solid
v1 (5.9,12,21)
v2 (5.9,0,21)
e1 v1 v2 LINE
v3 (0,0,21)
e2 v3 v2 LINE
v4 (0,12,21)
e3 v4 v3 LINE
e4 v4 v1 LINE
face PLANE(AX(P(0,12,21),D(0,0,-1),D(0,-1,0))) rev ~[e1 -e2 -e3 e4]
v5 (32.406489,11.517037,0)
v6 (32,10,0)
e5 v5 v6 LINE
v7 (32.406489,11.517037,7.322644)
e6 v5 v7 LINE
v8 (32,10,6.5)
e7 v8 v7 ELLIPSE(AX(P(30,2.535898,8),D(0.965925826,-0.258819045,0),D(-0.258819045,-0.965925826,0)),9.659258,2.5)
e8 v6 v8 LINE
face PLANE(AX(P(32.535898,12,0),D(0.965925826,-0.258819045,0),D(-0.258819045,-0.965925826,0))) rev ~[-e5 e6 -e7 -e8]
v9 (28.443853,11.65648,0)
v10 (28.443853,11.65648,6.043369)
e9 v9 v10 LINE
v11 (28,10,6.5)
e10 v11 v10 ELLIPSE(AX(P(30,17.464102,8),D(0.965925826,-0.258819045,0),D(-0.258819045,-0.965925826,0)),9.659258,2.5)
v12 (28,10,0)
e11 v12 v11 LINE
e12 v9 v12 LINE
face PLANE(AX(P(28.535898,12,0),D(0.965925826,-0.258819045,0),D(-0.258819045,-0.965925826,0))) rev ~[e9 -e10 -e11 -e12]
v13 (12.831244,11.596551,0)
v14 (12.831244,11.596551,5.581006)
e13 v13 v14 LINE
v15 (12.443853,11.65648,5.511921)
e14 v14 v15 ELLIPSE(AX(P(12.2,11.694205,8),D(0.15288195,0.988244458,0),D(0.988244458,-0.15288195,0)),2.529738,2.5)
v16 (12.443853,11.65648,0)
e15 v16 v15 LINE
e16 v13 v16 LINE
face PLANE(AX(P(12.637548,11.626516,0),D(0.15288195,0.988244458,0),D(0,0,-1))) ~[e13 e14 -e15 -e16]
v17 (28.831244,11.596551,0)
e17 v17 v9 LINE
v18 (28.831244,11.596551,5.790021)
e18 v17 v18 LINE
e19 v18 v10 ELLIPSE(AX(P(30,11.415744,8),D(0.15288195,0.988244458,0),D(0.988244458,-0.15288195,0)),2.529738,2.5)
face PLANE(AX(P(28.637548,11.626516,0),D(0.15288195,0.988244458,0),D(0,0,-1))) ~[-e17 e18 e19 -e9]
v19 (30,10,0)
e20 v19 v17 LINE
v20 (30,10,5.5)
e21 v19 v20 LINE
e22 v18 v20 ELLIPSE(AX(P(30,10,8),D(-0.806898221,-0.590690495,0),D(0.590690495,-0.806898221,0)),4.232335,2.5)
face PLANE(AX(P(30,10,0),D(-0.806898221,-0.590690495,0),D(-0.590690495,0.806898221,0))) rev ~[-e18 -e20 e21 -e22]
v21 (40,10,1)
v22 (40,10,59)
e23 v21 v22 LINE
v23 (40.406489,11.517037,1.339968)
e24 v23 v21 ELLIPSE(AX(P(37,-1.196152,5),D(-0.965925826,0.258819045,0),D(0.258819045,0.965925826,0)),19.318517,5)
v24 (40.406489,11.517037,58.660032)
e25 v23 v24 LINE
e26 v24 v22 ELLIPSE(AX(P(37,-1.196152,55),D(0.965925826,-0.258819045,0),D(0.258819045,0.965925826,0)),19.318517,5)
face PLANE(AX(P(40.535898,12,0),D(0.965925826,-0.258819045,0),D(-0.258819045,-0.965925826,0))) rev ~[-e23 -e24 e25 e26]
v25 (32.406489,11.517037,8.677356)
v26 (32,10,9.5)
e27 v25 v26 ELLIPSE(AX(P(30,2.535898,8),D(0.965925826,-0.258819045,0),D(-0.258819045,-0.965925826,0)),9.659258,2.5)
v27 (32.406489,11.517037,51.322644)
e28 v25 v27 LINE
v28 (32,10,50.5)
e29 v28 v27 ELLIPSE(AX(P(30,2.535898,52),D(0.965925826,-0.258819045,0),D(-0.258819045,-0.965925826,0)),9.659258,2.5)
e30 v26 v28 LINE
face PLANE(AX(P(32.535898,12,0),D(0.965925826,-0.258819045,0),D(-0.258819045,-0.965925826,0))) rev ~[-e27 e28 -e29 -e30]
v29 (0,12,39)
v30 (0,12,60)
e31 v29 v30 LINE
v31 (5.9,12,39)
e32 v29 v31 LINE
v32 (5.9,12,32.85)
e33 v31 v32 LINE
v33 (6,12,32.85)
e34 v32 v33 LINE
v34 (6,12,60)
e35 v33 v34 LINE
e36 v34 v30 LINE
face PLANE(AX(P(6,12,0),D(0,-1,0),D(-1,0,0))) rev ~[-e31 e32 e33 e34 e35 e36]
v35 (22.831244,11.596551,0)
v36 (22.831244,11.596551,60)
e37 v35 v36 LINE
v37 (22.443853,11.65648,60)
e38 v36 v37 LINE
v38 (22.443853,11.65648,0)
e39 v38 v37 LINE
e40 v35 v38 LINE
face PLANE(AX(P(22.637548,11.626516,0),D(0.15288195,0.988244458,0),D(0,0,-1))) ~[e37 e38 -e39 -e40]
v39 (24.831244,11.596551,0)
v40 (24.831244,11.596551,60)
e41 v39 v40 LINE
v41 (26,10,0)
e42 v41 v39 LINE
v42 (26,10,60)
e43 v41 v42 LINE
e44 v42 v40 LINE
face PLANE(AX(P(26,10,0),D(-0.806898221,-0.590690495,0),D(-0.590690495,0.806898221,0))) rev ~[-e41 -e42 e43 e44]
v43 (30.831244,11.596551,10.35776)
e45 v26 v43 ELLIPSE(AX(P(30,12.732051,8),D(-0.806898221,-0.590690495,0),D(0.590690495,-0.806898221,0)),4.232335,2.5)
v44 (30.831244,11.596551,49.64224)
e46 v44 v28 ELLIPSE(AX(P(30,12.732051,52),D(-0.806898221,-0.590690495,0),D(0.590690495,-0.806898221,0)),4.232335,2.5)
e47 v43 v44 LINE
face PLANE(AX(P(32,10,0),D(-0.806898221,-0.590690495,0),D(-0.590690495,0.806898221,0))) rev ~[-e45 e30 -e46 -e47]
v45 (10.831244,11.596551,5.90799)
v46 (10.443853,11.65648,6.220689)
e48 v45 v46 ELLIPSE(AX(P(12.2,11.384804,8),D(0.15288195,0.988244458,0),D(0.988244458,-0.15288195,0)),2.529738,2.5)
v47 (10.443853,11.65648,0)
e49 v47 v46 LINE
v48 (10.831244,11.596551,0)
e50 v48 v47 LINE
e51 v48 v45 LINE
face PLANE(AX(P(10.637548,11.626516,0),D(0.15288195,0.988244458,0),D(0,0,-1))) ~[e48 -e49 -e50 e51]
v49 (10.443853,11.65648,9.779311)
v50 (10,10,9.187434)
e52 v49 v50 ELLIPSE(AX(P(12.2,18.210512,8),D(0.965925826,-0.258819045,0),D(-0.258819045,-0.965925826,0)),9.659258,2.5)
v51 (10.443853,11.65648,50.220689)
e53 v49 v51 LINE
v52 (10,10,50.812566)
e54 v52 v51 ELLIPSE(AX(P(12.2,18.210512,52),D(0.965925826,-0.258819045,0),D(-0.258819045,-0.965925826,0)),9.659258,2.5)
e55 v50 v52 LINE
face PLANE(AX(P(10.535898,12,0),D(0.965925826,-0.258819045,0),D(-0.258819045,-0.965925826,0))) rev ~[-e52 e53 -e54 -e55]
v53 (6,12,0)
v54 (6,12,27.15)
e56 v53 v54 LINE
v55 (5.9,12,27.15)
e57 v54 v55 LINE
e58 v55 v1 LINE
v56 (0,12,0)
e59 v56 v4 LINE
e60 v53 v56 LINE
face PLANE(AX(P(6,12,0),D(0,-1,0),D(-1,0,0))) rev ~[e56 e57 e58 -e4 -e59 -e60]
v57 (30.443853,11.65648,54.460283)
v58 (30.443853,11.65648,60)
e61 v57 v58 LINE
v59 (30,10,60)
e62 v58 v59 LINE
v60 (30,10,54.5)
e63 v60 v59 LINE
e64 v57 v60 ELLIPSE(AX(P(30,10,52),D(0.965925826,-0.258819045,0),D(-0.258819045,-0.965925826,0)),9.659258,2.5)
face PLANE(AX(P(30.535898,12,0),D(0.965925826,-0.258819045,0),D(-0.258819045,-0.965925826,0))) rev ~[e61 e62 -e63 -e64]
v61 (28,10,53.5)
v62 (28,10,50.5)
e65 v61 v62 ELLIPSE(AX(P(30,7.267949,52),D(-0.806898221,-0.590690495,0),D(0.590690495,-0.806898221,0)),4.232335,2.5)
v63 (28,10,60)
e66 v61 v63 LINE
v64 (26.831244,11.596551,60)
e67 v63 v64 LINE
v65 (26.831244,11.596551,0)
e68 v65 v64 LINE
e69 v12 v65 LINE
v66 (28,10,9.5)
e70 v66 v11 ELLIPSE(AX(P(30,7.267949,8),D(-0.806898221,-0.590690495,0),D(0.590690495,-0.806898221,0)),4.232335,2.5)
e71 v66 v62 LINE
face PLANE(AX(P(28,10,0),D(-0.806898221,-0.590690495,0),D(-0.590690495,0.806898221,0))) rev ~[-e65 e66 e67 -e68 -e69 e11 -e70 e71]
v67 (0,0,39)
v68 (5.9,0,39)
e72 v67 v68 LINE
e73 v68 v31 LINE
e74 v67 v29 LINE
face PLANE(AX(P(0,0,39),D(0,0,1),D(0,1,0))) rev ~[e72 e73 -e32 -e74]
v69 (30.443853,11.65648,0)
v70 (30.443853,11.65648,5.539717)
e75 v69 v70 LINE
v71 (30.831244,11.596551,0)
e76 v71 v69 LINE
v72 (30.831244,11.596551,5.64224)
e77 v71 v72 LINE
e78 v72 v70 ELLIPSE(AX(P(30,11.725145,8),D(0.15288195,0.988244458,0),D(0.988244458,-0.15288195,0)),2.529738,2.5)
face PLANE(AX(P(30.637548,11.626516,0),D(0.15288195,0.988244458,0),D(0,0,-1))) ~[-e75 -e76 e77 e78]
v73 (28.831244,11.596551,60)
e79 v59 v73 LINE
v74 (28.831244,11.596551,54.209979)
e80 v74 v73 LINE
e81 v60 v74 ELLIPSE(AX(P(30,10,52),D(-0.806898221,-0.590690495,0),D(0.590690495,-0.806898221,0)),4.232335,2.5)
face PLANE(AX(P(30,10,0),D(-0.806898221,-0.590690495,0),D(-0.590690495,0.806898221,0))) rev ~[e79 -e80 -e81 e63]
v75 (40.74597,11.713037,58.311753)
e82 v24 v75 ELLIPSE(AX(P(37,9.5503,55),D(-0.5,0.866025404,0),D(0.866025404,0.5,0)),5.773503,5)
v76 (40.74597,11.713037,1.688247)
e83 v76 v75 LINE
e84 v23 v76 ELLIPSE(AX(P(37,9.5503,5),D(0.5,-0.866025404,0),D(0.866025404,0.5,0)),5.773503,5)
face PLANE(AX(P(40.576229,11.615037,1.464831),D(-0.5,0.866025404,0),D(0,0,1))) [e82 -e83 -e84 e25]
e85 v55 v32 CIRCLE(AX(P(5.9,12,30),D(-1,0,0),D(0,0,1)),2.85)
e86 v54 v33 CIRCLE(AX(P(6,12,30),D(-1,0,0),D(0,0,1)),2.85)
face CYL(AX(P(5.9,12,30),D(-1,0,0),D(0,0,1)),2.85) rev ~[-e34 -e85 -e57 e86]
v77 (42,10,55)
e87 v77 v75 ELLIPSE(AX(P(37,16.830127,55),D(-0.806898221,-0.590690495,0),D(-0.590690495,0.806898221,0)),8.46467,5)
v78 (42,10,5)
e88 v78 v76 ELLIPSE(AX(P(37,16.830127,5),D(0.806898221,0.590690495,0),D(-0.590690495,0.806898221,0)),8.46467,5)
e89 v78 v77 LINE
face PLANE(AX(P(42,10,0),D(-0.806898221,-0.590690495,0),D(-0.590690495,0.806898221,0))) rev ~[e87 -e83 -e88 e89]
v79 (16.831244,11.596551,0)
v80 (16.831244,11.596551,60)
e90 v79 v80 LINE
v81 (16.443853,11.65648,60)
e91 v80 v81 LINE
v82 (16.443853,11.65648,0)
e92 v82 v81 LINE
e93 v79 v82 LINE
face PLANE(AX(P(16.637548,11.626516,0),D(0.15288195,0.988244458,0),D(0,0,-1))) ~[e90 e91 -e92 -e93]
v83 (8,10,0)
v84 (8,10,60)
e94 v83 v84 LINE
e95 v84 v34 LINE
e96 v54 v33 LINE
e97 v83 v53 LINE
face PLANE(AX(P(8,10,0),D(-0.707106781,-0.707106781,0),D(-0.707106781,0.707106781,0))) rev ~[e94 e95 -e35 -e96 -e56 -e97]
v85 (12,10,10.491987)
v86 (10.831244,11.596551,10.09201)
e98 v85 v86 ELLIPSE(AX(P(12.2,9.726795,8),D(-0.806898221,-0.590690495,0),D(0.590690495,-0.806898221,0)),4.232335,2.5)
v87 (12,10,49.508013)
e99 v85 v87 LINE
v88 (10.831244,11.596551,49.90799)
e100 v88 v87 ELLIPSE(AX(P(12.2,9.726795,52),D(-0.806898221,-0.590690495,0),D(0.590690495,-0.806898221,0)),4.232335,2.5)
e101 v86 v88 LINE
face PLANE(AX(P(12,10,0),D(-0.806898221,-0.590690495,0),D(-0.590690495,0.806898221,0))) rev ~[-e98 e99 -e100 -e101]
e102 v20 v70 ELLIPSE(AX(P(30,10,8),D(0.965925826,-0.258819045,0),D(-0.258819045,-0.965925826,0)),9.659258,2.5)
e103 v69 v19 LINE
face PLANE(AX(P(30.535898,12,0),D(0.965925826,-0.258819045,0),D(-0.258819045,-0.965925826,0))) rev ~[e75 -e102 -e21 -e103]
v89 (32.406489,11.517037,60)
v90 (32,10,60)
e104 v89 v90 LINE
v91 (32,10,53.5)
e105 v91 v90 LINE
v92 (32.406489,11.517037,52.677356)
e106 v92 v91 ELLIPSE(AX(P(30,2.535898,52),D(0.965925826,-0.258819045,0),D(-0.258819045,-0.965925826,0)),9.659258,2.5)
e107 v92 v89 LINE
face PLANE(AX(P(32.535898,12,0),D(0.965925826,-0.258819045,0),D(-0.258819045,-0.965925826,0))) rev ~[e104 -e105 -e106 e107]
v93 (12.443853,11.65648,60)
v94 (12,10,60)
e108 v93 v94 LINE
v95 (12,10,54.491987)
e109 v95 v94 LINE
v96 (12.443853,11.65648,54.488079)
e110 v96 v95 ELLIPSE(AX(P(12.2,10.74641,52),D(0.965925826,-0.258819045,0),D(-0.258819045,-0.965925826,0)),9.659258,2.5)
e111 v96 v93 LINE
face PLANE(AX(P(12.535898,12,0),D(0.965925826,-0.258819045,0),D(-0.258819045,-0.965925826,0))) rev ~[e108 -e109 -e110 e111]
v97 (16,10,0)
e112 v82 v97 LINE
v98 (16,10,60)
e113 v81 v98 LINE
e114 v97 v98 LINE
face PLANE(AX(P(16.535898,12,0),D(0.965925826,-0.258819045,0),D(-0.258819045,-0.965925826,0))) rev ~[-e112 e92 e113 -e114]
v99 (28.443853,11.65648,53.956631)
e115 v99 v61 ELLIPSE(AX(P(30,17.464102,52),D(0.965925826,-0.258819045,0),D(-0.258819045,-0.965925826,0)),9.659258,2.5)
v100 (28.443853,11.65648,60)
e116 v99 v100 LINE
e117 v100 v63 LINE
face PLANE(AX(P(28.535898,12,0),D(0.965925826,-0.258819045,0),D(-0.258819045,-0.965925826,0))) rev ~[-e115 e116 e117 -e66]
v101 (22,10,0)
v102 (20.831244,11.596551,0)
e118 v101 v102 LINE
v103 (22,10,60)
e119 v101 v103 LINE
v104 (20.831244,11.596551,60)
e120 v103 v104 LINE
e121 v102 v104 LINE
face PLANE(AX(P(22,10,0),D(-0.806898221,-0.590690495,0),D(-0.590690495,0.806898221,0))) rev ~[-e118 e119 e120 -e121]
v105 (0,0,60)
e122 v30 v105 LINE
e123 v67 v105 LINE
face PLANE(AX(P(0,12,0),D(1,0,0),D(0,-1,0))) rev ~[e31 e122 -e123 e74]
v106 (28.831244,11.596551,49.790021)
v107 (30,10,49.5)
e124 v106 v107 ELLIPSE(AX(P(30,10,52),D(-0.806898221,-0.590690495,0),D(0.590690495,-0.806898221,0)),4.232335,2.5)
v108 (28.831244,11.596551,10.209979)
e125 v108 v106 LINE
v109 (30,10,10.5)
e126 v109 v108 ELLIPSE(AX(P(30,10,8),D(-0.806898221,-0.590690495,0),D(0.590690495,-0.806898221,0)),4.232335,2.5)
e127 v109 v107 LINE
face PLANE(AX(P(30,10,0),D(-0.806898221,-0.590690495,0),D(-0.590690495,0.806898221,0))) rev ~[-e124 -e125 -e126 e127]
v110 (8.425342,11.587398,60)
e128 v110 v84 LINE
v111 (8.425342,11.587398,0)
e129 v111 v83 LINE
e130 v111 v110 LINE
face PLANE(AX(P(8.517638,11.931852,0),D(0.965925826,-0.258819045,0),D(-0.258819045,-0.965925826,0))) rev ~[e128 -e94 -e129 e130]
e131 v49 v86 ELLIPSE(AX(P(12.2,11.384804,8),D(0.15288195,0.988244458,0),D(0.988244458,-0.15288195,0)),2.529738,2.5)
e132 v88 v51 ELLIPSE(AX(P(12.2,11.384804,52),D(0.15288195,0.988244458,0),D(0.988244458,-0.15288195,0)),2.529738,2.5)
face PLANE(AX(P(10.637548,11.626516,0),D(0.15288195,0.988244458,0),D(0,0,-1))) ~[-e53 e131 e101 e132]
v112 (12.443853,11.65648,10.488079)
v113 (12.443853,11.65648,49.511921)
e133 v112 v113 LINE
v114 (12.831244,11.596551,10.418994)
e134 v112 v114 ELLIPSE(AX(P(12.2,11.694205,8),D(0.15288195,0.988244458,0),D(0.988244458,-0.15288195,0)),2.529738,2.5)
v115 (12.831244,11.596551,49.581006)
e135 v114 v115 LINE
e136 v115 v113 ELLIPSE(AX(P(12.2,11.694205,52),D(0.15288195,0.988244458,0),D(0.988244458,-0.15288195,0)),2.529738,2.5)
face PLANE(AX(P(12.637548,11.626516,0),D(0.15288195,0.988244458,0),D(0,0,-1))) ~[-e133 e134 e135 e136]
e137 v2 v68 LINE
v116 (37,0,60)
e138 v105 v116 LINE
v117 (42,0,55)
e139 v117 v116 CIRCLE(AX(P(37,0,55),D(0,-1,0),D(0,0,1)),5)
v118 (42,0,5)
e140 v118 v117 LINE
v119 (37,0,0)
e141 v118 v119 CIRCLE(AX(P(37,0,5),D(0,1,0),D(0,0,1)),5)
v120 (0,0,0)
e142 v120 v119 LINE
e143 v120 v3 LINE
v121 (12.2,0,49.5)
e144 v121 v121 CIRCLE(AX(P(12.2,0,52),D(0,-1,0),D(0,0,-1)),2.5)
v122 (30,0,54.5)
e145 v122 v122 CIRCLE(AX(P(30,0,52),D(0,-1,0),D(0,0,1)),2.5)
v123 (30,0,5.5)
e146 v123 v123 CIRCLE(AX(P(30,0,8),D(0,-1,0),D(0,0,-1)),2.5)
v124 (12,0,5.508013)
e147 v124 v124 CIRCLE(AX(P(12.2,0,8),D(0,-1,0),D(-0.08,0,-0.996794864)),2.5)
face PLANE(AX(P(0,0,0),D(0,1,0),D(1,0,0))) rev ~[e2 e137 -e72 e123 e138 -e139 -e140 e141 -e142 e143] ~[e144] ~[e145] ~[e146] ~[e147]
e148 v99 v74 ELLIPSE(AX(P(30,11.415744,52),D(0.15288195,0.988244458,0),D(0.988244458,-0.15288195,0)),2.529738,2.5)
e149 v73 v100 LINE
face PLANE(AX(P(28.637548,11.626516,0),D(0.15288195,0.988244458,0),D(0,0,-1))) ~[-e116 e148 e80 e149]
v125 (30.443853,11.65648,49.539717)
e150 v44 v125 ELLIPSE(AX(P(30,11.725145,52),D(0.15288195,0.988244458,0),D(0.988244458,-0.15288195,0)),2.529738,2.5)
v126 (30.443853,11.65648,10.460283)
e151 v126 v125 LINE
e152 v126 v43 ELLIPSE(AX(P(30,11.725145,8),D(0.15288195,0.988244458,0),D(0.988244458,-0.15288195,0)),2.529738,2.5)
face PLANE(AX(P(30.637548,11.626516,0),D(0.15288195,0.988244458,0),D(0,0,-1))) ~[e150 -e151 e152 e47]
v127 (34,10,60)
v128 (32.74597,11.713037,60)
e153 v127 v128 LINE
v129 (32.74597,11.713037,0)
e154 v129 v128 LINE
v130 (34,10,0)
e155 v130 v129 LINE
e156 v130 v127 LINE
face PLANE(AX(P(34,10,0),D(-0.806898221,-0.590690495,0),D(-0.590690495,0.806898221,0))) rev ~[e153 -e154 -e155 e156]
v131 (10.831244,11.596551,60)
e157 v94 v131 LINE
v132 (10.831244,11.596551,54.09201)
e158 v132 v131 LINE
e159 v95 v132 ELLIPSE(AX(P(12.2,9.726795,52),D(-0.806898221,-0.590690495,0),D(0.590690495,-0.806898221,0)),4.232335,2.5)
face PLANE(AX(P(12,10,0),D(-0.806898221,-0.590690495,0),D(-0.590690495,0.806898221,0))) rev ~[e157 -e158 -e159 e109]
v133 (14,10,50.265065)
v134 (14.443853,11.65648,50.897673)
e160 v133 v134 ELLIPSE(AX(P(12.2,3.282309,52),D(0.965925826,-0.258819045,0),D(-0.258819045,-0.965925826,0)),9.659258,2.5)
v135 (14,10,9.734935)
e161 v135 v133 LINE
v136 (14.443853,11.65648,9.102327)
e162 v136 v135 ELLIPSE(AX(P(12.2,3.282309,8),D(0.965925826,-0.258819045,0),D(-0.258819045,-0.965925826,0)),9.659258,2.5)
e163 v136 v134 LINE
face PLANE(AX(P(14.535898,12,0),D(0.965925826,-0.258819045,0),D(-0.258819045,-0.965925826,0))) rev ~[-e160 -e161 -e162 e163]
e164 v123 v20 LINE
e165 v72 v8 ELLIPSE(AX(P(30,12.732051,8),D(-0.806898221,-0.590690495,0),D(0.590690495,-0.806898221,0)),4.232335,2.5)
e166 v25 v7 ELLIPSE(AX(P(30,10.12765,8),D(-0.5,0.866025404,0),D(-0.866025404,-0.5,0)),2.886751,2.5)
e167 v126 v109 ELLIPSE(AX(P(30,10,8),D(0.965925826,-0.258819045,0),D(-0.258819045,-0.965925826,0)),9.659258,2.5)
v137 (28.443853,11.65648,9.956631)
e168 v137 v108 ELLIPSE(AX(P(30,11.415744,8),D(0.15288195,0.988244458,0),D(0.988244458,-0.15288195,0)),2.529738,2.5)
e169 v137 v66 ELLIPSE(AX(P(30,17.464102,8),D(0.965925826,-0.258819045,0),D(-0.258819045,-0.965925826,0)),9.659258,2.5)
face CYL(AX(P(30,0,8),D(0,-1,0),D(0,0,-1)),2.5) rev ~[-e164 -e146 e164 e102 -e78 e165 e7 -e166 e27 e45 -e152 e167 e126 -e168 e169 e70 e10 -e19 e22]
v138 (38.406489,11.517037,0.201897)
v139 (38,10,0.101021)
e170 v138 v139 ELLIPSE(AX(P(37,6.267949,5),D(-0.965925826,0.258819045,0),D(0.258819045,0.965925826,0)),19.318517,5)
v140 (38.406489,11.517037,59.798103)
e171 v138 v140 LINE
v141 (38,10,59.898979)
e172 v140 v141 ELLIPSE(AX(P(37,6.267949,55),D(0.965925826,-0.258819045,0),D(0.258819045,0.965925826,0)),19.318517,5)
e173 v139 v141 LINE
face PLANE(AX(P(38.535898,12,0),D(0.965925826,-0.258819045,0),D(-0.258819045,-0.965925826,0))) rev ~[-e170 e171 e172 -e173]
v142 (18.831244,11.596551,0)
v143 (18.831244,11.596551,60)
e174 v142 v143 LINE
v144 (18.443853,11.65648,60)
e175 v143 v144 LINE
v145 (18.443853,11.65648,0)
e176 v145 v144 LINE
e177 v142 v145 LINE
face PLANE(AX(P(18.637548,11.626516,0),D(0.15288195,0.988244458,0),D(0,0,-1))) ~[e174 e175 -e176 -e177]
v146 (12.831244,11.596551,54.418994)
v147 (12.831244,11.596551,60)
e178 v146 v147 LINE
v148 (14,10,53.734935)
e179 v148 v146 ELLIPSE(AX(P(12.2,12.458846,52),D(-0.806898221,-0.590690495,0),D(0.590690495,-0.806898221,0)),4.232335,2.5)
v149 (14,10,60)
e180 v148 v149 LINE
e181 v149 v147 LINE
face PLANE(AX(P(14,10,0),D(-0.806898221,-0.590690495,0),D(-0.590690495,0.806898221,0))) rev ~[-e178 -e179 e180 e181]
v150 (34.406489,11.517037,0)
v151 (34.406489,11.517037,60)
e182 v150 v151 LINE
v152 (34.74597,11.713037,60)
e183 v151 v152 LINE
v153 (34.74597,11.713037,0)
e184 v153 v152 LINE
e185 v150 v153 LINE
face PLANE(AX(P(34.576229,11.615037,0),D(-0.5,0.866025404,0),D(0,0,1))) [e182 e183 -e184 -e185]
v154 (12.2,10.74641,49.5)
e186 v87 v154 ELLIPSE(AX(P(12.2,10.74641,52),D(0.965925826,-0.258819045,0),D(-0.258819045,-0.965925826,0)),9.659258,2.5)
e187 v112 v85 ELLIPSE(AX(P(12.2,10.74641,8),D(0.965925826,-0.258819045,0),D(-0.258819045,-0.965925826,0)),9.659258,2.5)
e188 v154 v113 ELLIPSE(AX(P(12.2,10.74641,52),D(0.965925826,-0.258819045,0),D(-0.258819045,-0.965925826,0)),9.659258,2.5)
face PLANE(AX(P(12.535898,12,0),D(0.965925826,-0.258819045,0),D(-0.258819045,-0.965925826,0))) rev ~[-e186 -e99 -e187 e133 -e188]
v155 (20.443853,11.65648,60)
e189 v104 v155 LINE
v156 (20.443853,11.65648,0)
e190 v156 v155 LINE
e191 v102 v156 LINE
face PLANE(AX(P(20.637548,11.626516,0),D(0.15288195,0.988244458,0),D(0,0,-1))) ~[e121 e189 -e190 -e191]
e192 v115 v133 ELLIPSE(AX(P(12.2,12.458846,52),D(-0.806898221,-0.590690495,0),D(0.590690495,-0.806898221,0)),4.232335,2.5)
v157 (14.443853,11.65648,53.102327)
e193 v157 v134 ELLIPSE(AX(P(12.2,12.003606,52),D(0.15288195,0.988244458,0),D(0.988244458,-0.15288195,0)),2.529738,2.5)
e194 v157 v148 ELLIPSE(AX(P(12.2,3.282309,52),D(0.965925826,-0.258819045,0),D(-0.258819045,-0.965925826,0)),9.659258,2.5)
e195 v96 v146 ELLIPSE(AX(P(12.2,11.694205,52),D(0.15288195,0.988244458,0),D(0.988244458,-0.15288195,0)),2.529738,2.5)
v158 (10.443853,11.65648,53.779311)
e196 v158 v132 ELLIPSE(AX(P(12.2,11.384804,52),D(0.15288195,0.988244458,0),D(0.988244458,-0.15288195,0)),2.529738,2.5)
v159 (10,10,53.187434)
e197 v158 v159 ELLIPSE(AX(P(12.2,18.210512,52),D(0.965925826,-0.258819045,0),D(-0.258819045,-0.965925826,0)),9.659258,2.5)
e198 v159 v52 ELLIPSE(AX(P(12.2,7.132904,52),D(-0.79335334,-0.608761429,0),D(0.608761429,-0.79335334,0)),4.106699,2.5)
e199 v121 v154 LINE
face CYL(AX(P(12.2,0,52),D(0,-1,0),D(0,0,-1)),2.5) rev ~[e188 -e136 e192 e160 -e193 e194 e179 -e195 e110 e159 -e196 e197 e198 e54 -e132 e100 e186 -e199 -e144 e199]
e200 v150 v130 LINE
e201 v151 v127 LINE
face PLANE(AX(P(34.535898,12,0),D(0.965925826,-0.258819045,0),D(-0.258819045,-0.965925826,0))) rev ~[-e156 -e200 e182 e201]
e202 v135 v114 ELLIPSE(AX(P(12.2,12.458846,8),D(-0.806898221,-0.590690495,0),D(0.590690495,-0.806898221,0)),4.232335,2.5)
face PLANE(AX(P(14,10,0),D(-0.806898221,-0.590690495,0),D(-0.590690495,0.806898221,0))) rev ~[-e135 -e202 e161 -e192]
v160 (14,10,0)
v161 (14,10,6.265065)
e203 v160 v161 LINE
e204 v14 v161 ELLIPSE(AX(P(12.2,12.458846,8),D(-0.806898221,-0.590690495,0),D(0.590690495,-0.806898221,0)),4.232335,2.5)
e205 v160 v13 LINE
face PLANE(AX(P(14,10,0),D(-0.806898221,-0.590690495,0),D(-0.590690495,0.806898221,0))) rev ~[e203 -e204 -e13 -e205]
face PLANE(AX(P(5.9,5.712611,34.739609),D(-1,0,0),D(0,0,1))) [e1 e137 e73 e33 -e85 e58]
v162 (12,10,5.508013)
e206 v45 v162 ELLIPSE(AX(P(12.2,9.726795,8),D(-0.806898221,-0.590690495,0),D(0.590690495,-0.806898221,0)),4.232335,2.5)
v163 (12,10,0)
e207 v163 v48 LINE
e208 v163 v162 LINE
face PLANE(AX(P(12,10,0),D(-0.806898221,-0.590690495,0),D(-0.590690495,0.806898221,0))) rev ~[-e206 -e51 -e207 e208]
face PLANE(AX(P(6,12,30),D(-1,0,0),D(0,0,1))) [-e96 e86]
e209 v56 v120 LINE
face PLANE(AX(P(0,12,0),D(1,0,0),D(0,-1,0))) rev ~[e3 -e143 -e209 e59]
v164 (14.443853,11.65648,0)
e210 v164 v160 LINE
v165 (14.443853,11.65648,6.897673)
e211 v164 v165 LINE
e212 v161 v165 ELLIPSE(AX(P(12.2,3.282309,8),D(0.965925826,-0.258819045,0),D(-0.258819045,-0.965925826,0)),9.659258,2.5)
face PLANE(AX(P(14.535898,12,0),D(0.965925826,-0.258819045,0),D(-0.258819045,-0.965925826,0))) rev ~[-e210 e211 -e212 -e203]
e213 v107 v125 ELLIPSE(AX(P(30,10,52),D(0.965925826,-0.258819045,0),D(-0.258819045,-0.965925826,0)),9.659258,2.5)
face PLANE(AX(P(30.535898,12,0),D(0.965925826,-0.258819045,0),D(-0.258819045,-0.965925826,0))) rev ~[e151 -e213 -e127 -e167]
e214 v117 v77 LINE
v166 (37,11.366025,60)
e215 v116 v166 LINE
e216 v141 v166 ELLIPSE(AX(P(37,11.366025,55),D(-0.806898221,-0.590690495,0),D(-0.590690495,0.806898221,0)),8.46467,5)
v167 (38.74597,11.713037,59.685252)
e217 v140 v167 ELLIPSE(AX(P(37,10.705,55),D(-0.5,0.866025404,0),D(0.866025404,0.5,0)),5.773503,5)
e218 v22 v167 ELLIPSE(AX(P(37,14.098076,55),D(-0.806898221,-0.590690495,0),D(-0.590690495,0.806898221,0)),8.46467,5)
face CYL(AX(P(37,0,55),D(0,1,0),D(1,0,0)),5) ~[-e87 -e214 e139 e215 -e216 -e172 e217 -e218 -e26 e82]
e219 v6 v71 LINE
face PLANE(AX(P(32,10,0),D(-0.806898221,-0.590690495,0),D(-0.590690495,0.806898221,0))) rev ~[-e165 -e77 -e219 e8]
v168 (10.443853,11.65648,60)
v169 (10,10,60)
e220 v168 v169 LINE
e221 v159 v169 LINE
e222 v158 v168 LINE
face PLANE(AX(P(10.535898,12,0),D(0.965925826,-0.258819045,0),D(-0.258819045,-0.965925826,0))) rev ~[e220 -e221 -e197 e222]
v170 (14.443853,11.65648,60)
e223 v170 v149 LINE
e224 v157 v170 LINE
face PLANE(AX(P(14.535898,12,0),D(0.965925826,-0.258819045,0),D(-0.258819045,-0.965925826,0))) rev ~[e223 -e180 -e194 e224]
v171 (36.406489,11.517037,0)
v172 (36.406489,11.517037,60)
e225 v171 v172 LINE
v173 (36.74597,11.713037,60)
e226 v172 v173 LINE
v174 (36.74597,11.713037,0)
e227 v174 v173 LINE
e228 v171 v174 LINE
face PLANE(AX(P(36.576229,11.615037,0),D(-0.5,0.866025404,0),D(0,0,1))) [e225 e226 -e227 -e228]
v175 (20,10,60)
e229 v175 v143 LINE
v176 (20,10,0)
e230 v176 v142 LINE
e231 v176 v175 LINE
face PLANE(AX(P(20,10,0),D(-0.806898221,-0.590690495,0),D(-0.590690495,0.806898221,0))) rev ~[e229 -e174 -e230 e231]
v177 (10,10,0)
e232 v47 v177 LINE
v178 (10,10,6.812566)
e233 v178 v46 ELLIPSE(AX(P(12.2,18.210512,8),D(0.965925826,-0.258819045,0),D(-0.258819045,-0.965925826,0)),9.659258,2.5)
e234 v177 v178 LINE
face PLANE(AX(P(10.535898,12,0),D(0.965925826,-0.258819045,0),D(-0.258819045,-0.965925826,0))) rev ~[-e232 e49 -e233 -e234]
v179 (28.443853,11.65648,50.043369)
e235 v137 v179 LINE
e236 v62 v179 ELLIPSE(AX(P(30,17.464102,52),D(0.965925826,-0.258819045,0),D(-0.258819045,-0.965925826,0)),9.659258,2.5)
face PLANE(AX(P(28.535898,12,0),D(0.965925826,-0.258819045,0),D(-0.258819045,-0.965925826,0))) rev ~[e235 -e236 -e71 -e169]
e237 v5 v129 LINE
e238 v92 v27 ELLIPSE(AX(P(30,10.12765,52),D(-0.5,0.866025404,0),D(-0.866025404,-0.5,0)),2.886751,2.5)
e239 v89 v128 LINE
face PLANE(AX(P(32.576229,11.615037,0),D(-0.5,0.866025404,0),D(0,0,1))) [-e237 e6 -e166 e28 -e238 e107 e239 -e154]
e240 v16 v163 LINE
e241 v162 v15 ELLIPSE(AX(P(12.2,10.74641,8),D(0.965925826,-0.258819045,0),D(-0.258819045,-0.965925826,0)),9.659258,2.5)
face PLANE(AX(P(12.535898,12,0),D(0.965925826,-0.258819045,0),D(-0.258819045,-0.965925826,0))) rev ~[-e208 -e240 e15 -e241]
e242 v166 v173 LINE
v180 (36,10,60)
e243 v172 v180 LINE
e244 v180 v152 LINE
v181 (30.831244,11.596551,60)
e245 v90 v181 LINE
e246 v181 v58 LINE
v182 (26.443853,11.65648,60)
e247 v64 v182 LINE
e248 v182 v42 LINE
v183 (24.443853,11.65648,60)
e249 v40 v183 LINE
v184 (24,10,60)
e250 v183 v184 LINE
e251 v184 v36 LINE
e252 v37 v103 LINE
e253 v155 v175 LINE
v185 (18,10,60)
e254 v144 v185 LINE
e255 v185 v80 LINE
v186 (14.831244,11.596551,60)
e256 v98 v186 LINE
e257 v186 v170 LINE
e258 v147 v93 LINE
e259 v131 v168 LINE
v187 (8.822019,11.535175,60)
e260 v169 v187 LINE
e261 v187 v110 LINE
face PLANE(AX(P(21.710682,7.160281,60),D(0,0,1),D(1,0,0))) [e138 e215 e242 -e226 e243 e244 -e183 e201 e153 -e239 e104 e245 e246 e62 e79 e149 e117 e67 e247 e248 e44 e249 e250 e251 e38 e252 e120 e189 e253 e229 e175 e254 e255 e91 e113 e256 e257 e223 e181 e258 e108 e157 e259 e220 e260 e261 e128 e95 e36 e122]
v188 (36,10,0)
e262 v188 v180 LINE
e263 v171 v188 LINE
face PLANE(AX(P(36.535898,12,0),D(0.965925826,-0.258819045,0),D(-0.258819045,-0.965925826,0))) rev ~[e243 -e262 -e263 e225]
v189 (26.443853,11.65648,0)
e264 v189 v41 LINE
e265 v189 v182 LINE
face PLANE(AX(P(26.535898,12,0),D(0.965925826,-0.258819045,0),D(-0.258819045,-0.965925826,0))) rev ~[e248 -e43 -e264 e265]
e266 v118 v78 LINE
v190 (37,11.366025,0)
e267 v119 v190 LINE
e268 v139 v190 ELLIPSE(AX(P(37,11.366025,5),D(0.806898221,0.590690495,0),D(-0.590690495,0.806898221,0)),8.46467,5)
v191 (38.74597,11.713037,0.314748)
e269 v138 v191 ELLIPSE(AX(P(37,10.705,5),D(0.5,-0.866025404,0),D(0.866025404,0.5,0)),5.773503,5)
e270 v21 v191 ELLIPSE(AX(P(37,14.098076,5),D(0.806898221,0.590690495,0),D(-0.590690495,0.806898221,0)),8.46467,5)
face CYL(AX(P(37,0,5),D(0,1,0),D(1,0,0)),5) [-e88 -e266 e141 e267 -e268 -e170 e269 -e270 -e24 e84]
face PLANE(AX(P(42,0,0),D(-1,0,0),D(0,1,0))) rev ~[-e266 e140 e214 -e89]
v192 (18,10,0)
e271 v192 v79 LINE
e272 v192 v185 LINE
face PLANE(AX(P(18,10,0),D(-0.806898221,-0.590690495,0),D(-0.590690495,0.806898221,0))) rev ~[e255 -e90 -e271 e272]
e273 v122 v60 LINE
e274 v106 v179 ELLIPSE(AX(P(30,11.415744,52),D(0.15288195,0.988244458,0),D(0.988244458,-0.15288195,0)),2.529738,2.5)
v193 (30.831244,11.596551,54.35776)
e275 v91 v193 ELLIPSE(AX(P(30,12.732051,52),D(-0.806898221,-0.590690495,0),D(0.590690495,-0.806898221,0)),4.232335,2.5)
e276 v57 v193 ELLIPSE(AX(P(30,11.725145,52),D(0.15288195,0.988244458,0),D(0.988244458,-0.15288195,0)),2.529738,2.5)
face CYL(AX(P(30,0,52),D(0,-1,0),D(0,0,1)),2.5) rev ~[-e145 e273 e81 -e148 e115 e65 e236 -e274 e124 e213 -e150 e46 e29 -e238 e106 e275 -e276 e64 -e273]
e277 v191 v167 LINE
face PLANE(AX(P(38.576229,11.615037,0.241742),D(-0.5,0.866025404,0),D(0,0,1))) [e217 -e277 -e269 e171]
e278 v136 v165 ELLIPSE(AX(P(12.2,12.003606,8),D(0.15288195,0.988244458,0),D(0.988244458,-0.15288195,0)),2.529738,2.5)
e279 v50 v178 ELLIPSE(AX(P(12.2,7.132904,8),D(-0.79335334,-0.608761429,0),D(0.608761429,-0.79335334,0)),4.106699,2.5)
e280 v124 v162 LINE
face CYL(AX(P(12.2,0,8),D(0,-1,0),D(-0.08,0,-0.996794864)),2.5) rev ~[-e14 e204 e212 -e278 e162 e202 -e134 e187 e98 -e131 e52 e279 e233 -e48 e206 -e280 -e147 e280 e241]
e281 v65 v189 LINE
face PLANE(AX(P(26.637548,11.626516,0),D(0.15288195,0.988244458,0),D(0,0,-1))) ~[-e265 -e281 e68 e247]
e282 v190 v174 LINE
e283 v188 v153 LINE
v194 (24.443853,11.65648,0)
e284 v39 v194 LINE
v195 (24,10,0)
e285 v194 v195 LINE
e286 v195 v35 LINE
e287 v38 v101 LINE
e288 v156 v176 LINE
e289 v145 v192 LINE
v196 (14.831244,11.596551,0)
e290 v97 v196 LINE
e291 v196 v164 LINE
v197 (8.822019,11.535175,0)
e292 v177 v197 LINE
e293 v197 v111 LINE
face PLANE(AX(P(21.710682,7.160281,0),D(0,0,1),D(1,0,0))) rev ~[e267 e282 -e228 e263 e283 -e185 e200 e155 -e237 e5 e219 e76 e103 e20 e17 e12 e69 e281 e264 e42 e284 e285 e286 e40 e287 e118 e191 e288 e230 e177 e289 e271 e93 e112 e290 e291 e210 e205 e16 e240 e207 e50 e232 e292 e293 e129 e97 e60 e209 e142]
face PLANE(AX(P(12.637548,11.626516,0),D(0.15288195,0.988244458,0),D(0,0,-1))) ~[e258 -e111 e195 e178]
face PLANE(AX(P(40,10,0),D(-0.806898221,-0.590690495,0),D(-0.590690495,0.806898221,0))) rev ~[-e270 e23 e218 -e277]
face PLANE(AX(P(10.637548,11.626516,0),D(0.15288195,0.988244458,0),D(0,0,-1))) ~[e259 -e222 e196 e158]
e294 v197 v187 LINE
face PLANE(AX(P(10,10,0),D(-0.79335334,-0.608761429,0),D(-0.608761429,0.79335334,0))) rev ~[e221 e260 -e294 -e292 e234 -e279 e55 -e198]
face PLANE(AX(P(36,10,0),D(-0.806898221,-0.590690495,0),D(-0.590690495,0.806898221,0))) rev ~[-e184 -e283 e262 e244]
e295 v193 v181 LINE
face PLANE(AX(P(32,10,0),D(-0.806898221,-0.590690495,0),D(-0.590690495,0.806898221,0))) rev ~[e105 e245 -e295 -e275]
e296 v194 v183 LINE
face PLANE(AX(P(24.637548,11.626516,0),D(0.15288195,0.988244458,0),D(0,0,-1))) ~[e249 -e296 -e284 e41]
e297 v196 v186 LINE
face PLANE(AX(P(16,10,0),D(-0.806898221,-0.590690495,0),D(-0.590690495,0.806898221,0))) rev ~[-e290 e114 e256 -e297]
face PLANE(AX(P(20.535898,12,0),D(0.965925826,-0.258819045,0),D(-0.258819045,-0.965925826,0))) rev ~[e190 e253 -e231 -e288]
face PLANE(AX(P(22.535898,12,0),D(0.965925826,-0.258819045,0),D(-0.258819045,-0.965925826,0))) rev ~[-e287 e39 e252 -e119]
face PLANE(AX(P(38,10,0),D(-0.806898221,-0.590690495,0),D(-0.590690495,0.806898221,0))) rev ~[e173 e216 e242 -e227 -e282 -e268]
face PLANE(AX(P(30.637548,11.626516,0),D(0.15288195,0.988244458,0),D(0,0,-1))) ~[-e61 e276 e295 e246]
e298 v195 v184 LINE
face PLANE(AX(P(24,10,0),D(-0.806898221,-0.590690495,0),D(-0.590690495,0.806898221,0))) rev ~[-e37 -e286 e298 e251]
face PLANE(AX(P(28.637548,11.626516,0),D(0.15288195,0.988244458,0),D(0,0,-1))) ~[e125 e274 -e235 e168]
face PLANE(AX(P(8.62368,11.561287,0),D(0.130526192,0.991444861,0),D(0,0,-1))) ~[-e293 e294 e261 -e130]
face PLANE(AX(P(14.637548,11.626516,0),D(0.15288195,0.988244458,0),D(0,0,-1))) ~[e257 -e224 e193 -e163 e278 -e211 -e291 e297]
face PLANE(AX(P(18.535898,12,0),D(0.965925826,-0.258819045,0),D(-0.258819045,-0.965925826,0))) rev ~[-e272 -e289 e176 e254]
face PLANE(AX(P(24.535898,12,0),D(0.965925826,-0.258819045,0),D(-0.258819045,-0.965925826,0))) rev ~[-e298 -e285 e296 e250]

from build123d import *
from OCP.BRepFilletAPI import BRepFilletAPI_MakeChamfer

# Parameters (mm, degrees)
EXTRUDE_1_DEPTH     = 60
FILLET_1_R          = 5
CUT_EXTRUDE_1_DEPTH = 5.9
CHAMFER_1_SIZE      = 0.5
CHAMFER_1_SIZE2     = 0.355637567
CHAMFER_1_SIZE2_2   = 0.356604189
SKETCH_6_R          = 2.85
CUT_EXTRUDE_2_DEPTH = 0.1
SKETCH_7_R          = 2.5
CUT_EXTRUDE_3_DEPTH = 75.215901261


with BuildPart() as part:
    # 草图1 → 凸台-拉伸1 (new body)
    with BuildSketch(Plane.XY):
        Polygon((0, 0), (42, 0), (42, 10), (40.535898385, 12), (40, 10), (38.535898385, 12), (38, 10), (36.535898385, 12), (36, 10), (34.535898385, 12), (34, 10), (32.535898385, 12), (32, 10), (30.535898385, 12), (30, 10), (28.535898385, 12), (28, 10), (26.535898385, 12), (26, 10), (24.535898385, 12), (24, 10), (22.535898385, 12), (22, 10), (20.535898385, 12), (20, 10), (18.535898385, 12), (18, 10), (16.535898385, 12), (16, 10), (14.535898385, 12), (14, 10), (12.535898385, 12), (12, 10), (10.535898385, 12), (10, 10), (8.51763809, 11.931851653), (8, 10), (6, 12), (0, 12), align=None)
    extrude(amount=EXTRUDE_1_DEPTH)

    # 圆角1
    fillet_1_edges = [part.edges().sort_by_distance(p)[0] for p in [
        (42, 5, 0),
        (42, 5, 60),
    ]]
    fillet(fillet_1_edges, radius=FILLET_1_R)

    # 草图2 → 切除-拉伸1 (cut)
    with BuildSketch(Plane.ZY):
        with BuildLine():
            ThreePointArc((32.9, 12), (32.050609665, 9.949390335), (30, 9.1))
            Line((30, 9.1), (30, 0))
            Line((30, 0), (39, 0))
            Line((39, 0), (39, 12))
            Line((39, 12), (32.9, 12))
        make_face()
        with BuildLine():
            Line((30, 0), (30, 9.1))
            ThreePointArc((30, 9.1), (27.949390335, 9.949390335), (27.1, 12))
            Line((27.1, 12), (21, 12))
            Line((21, 12), (21, 0))
            Line((21, 0), (30, 0))
        make_face()
        with BuildLine():
            Line((32.9, 12), (30, 12))
            Line((30, 12), (30, 9.1))
            ThreePointArc((30, 9.1), (32.050609665, 9.949390335), (32.9, 12))
        make_face()
        with BuildLine():
            Line((30, 9.1), (30, 12))
            Line((30, 12), (27.1, 12))
            ThreePointArc((27.1, 12), (27.949390335, 9.949390335), (30, 9.1))
        make_face()
    extrude(amount=-CUT_EXTRUDE_1_DEPTH, mode=Mode.SUBTRACT)

    # 倒角1: one chamfer whose edges measure the first distance from different faces: ONE call of the kernel's chamfer builder (chamfer() names one face for all edges)
    chamfer_1_edges_1 = [part.edges().sort_by_distance(p)[0] for p in [
        (40.535898385, 12, 30),
    ]]
    chamfer_1_side_1 = [part.faces().sort_by_distance(p)[0] for p in [
        (40.267229154, 10.997312779, 30),
    ]]
    chamfer_1_edges_2 = [part.edges().sort_by_distance(p)[0] for p in [
        (38.535898385, 12, 30),
    ]]
    chamfer_1_side_2 = [part.faces().sort_by_distance(p)[0] for p in [
        (38.267738685, 10.999214377, 30),
    ]]
    chamfer_1_edges_3 = [part.edges().sort_by_distance(p)[0] for p in [
        (36.535898385, 12, 30),
    ]]
    chamfer_1_side_3 = [part.faces().sort_by_distance(p)[0] for p in [
        (36.267949192, 11, 30),
    ]]
    chamfer_1_edges_4 = [part.edges().sort_by_distance(p)[0] for p in [
        (34.535898385, 12, 30),
    ]]
    chamfer_1_side_4 = [part.faces().sort_by_distance(p)[0] for p in [
        (34.267949192, 11, 30),
    ]]
    chamfer_1_edges_5 = [part.edges().sort_by_distance(p)[0] for p in [
        (32.535898385, 12, 30),
    ]]
    chamfer_1_side_5 = [part.faces().sort_by_distance(p)[0] for p in [
        (32.267949192, 11, 30),
    ]]
    chamfer_1_edges_6 = [part.edges().sort_by_distance(p)[0] for p in [
        (30.535898385, 12, 30),
    ]]
    chamfer_1_side_6 = [part.faces().sort_by_distance(p)[0] for p in [
        (31.267949192, 11, 30),
    ]]
    chamfer_1_edges_7 = [part.edges().sort_by_distance(p)[0] for p in [
        (28.535898385, 12, 30),
    ]]
    chamfer_1_side_7 = [part.faces().sort_by_distance(p)[0] for p in [
        (29.267949192, 11, 30),
    ]]
    chamfer_1_edges_8 = [part.edges().sort_by_distance(p)[0] for p in [
        (26.535898385, 12, 30),
    ]]
    chamfer_1_side_8 = [part.faces().sort_by_distance(p)[0] for p in [
        (27.267949192, 11, 30),
    ]]
    chamfer_1_edges_9 = [part.edges().sort_by_distance(p)[0] for p in [
        (24.535898385, 12, 30),
    ]]
    chamfer_1_side_9 = [part.faces().sort_by_distance(p)[0] for p in [
        (25.267949192, 11, 30),
    ]]
    chamfer_1_edges_10 = [part.edges().sort_by_distance(p)[0] for p in [
        (22.535898385, 12, 30),
    ]]
    chamfer_1_side_10 = [part.faces().sort_by_distance(p)[0] for p in [
        (23.267949192, 11, 30),
    ]]
    chamfer_1_edges_11 = [part.edges().sort_by_distance(p)[0] for p in [
        (20.535898385, 12, 30),
    ]]
    chamfer_1_side_11 = [part.faces().sort_by_distance(p)[0] for p in [
        (21.267949192, 11, 30),
    ]]
    chamfer_1_edges_12 = [part.edges().sort_by_distance(p)[0] for p in [
        (18.535898385, 12, 30),
    ]]
    chamfer_1_side_12 = [part.faces().sort_by_distance(p)[0] for p in [
        (19.267949192, 11, 30),
    ]]
    chamfer_1_edges_13 = [part.edges().sort_by_distance(p)[0] for p in [
        (16.535898385, 12, 30),
    ]]
    chamfer_1_side_13 = [part.faces().sort_by_distance(p)[0] for p in [
        (17.267949192, 11, 30),
    ]]
    chamfer_1_edges_14 = [part.edges().sort_by_distance(p)[0] for p in [
        (14.535898385, 12, 30),
    ]]
    chamfer_1_side_14 = [part.faces().sort_by_distance(p)[0] for p in [
        (15.267949192, 11, 30),
    ]]
    chamfer_1_edges_15 = [part.edges().sort_by_distance(p)[0] for p in [
        (12.535898385, 12, 30),
    ]]
    chamfer_1_side_15 = [part.faces().sort_by_distance(p)[0] for p in [
        (13.267949192, 11, 30),
    ]]
    chamfer_1_edges_16 = [part.edges().sort_by_distance(p)[0] for p in [
        (10.535898385, 12, 30),
    ]]
    chamfer_1_side_16 = [part.faces().sort_by_distance(p)[0] for p in [
        (11.267949192, 11, 30),
    ]]
    chamfer_1_edges_17 = [part.edges().sort_by_distance(p)[0] for p in [
        (8.51763809, 11.931851653, 30),
    ]]
    chamfer_1_side_17 = [part.faces().sort_by_distance(p)[0] for p in [
        (9.258819045, 10.965925826, 30),
    ]]
    chamfer_1 = BRepFilletAPI_MakeChamfer(part.part.solid().wrapped)
    for e in chamfer_1_edges_1:
        chamfer_1.Add(CHAMFER_1_SIZE, CHAMFER_1_SIZE2, e.wrapped, chamfer_1_side_1[0].wrapped)  # the first distance lies on this face
    for e in chamfer_1_edges_2:
        chamfer_1.Add(CHAMFER_1_SIZE, CHAMFER_1_SIZE2, e.wrapped, chamfer_1_side_2[0].wrapped)  # the first distance lies on this face
    for e in chamfer_1_edges_3:
        chamfer_1.Add(CHAMFER_1_SIZE, CHAMFER_1_SIZE2, e.wrapped, chamfer_1_side_3[0].wrapped)  # the first distance lies on this face
    for e in chamfer_1_edges_4:
        chamfer_1.Add(CHAMFER_1_SIZE, CHAMFER_1_SIZE2, e.wrapped, chamfer_1_side_4[0].wrapped)  # the first distance lies on this face
    for e in chamfer_1_edges_5:
        chamfer_1.Add(CHAMFER_1_SIZE, CHAMFER_1_SIZE2, e.wrapped, chamfer_1_side_5[0].wrapped)  # the first distance lies on this face
    for e in chamfer_1_edges_6:
        chamfer_1.Add(CHAMFER_1_SIZE, CHAMFER_1_SIZE2, e.wrapped, chamfer_1_side_6[0].wrapped)  # the first distance lies on this face
    for e in chamfer_1_edges_7:
        chamfer_1.Add(CHAMFER_1_SIZE, CHAMFER_1_SIZE2, e.wrapped, chamfer_1_side_7[0].wrapped)  # the first distance lies on this face
    for e in chamfer_1_edges_8:
        chamfer_1.Add(CHAMFER_1_SIZE, CHAMFER_1_SIZE2, e.wrapped, chamfer_1_side_8[0].wrapped)  # the first distance lies on this face
    for e in chamfer_1_edges_9:
        chamfer_1.Add(CHAMFER_1_SIZE, CHAMFER_1_SIZE2, e.wrapped, chamfer_1_side_9[0].wrapped)  # the first distance lies on this face
    for e in chamfer_1_edges_10:
        chamfer_1.Add(CHAMFER_1_SIZE, CHAMFER_1_SIZE2, e.wrapped, chamfer_1_side_10[0].wrapped)  # the first distance lies on this face
    for e in chamfer_1_edges_11:
        chamfer_1.Add(CHAMFER_1_SIZE, CHAMFER_1_SIZE2, e.wrapped, chamfer_1_side_11[0].wrapped)  # the first distance lies on this face
    for e in chamfer_1_edges_12:
        chamfer_1.Add(CHAMFER_1_SIZE, CHAMFER_1_SIZE2, e.wrapped, chamfer_1_side_12[0].wrapped)  # the first distance lies on this face
    for e in chamfer_1_edges_13:
        chamfer_1.Add(CHAMFER_1_SIZE, CHAMFER_1_SIZE2, e.wrapped, chamfer_1_side_13[0].wrapped)  # the first distance lies on this face
    for e in chamfer_1_edges_14:
        chamfer_1.Add(CHAMFER_1_SIZE, CHAMFER_1_SIZE2, e.wrapped, chamfer_1_side_14[0].wrapped)  # the first distance lies on this face
    for e in chamfer_1_edges_15:
        chamfer_1.Add(CHAMFER_1_SIZE, CHAMFER_1_SIZE2, e.wrapped, chamfer_1_side_15[0].wrapped)  # the first distance lies on this face
    for e in chamfer_1_edges_16:
        chamfer_1.Add(CHAMFER_1_SIZE, CHAMFER_1_SIZE2, e.wrapped, chamfer_1_side_16[0].wrapped)  # the first distance lies on this face
    for e in chamfer_1_edges_17:
        chamfer_1.Add(CHAMFER_1_SIZE, CHAMFER_1_SIZE2_2, e.wrapped, chamfer_1_side_17[0].wrapped)  # the first distance lies on this face
    add(Compound.cast(chamfer_1.Shape()), mode=Mode.REPLACE)

    # 草图6 → 切除-拉伸2 (cut)
    with BuildSketch(Plane.ZY.offset(-5.9)):
        with Locations((30, 12)):
            Circle(SKETCH_6_R)
    extrude(amount=-CUT_EXTRUDE_2_DEPTH, mode=Mode.SUBTRACT)

    # 草图7 → 切除-拉伸3 (cut, through all)
    with BuildSketch(Plane.XZ):
        with Locations(Location((12.2, 52, 0), (0, 0, 270))):
            Circle(SKETCH_7_R)
        with Locations(Location((30, 52, 0), (0, 0, 90))):
            Circle(SKETCH_7_R)
        with Locations(Location((30, 8, 0), (0, 0, 270))):
            Circle(SKETCH_7_R)
        with Locations(Location((12.2, 8, 0), (0, 0, 265.411434264))):
            Circle(SKETCH_7_R)
    extrude(amount=-CUT_EXTRUDE_3_DEPTH, mode=Mode.SUBTRACT)


solid = part.part
